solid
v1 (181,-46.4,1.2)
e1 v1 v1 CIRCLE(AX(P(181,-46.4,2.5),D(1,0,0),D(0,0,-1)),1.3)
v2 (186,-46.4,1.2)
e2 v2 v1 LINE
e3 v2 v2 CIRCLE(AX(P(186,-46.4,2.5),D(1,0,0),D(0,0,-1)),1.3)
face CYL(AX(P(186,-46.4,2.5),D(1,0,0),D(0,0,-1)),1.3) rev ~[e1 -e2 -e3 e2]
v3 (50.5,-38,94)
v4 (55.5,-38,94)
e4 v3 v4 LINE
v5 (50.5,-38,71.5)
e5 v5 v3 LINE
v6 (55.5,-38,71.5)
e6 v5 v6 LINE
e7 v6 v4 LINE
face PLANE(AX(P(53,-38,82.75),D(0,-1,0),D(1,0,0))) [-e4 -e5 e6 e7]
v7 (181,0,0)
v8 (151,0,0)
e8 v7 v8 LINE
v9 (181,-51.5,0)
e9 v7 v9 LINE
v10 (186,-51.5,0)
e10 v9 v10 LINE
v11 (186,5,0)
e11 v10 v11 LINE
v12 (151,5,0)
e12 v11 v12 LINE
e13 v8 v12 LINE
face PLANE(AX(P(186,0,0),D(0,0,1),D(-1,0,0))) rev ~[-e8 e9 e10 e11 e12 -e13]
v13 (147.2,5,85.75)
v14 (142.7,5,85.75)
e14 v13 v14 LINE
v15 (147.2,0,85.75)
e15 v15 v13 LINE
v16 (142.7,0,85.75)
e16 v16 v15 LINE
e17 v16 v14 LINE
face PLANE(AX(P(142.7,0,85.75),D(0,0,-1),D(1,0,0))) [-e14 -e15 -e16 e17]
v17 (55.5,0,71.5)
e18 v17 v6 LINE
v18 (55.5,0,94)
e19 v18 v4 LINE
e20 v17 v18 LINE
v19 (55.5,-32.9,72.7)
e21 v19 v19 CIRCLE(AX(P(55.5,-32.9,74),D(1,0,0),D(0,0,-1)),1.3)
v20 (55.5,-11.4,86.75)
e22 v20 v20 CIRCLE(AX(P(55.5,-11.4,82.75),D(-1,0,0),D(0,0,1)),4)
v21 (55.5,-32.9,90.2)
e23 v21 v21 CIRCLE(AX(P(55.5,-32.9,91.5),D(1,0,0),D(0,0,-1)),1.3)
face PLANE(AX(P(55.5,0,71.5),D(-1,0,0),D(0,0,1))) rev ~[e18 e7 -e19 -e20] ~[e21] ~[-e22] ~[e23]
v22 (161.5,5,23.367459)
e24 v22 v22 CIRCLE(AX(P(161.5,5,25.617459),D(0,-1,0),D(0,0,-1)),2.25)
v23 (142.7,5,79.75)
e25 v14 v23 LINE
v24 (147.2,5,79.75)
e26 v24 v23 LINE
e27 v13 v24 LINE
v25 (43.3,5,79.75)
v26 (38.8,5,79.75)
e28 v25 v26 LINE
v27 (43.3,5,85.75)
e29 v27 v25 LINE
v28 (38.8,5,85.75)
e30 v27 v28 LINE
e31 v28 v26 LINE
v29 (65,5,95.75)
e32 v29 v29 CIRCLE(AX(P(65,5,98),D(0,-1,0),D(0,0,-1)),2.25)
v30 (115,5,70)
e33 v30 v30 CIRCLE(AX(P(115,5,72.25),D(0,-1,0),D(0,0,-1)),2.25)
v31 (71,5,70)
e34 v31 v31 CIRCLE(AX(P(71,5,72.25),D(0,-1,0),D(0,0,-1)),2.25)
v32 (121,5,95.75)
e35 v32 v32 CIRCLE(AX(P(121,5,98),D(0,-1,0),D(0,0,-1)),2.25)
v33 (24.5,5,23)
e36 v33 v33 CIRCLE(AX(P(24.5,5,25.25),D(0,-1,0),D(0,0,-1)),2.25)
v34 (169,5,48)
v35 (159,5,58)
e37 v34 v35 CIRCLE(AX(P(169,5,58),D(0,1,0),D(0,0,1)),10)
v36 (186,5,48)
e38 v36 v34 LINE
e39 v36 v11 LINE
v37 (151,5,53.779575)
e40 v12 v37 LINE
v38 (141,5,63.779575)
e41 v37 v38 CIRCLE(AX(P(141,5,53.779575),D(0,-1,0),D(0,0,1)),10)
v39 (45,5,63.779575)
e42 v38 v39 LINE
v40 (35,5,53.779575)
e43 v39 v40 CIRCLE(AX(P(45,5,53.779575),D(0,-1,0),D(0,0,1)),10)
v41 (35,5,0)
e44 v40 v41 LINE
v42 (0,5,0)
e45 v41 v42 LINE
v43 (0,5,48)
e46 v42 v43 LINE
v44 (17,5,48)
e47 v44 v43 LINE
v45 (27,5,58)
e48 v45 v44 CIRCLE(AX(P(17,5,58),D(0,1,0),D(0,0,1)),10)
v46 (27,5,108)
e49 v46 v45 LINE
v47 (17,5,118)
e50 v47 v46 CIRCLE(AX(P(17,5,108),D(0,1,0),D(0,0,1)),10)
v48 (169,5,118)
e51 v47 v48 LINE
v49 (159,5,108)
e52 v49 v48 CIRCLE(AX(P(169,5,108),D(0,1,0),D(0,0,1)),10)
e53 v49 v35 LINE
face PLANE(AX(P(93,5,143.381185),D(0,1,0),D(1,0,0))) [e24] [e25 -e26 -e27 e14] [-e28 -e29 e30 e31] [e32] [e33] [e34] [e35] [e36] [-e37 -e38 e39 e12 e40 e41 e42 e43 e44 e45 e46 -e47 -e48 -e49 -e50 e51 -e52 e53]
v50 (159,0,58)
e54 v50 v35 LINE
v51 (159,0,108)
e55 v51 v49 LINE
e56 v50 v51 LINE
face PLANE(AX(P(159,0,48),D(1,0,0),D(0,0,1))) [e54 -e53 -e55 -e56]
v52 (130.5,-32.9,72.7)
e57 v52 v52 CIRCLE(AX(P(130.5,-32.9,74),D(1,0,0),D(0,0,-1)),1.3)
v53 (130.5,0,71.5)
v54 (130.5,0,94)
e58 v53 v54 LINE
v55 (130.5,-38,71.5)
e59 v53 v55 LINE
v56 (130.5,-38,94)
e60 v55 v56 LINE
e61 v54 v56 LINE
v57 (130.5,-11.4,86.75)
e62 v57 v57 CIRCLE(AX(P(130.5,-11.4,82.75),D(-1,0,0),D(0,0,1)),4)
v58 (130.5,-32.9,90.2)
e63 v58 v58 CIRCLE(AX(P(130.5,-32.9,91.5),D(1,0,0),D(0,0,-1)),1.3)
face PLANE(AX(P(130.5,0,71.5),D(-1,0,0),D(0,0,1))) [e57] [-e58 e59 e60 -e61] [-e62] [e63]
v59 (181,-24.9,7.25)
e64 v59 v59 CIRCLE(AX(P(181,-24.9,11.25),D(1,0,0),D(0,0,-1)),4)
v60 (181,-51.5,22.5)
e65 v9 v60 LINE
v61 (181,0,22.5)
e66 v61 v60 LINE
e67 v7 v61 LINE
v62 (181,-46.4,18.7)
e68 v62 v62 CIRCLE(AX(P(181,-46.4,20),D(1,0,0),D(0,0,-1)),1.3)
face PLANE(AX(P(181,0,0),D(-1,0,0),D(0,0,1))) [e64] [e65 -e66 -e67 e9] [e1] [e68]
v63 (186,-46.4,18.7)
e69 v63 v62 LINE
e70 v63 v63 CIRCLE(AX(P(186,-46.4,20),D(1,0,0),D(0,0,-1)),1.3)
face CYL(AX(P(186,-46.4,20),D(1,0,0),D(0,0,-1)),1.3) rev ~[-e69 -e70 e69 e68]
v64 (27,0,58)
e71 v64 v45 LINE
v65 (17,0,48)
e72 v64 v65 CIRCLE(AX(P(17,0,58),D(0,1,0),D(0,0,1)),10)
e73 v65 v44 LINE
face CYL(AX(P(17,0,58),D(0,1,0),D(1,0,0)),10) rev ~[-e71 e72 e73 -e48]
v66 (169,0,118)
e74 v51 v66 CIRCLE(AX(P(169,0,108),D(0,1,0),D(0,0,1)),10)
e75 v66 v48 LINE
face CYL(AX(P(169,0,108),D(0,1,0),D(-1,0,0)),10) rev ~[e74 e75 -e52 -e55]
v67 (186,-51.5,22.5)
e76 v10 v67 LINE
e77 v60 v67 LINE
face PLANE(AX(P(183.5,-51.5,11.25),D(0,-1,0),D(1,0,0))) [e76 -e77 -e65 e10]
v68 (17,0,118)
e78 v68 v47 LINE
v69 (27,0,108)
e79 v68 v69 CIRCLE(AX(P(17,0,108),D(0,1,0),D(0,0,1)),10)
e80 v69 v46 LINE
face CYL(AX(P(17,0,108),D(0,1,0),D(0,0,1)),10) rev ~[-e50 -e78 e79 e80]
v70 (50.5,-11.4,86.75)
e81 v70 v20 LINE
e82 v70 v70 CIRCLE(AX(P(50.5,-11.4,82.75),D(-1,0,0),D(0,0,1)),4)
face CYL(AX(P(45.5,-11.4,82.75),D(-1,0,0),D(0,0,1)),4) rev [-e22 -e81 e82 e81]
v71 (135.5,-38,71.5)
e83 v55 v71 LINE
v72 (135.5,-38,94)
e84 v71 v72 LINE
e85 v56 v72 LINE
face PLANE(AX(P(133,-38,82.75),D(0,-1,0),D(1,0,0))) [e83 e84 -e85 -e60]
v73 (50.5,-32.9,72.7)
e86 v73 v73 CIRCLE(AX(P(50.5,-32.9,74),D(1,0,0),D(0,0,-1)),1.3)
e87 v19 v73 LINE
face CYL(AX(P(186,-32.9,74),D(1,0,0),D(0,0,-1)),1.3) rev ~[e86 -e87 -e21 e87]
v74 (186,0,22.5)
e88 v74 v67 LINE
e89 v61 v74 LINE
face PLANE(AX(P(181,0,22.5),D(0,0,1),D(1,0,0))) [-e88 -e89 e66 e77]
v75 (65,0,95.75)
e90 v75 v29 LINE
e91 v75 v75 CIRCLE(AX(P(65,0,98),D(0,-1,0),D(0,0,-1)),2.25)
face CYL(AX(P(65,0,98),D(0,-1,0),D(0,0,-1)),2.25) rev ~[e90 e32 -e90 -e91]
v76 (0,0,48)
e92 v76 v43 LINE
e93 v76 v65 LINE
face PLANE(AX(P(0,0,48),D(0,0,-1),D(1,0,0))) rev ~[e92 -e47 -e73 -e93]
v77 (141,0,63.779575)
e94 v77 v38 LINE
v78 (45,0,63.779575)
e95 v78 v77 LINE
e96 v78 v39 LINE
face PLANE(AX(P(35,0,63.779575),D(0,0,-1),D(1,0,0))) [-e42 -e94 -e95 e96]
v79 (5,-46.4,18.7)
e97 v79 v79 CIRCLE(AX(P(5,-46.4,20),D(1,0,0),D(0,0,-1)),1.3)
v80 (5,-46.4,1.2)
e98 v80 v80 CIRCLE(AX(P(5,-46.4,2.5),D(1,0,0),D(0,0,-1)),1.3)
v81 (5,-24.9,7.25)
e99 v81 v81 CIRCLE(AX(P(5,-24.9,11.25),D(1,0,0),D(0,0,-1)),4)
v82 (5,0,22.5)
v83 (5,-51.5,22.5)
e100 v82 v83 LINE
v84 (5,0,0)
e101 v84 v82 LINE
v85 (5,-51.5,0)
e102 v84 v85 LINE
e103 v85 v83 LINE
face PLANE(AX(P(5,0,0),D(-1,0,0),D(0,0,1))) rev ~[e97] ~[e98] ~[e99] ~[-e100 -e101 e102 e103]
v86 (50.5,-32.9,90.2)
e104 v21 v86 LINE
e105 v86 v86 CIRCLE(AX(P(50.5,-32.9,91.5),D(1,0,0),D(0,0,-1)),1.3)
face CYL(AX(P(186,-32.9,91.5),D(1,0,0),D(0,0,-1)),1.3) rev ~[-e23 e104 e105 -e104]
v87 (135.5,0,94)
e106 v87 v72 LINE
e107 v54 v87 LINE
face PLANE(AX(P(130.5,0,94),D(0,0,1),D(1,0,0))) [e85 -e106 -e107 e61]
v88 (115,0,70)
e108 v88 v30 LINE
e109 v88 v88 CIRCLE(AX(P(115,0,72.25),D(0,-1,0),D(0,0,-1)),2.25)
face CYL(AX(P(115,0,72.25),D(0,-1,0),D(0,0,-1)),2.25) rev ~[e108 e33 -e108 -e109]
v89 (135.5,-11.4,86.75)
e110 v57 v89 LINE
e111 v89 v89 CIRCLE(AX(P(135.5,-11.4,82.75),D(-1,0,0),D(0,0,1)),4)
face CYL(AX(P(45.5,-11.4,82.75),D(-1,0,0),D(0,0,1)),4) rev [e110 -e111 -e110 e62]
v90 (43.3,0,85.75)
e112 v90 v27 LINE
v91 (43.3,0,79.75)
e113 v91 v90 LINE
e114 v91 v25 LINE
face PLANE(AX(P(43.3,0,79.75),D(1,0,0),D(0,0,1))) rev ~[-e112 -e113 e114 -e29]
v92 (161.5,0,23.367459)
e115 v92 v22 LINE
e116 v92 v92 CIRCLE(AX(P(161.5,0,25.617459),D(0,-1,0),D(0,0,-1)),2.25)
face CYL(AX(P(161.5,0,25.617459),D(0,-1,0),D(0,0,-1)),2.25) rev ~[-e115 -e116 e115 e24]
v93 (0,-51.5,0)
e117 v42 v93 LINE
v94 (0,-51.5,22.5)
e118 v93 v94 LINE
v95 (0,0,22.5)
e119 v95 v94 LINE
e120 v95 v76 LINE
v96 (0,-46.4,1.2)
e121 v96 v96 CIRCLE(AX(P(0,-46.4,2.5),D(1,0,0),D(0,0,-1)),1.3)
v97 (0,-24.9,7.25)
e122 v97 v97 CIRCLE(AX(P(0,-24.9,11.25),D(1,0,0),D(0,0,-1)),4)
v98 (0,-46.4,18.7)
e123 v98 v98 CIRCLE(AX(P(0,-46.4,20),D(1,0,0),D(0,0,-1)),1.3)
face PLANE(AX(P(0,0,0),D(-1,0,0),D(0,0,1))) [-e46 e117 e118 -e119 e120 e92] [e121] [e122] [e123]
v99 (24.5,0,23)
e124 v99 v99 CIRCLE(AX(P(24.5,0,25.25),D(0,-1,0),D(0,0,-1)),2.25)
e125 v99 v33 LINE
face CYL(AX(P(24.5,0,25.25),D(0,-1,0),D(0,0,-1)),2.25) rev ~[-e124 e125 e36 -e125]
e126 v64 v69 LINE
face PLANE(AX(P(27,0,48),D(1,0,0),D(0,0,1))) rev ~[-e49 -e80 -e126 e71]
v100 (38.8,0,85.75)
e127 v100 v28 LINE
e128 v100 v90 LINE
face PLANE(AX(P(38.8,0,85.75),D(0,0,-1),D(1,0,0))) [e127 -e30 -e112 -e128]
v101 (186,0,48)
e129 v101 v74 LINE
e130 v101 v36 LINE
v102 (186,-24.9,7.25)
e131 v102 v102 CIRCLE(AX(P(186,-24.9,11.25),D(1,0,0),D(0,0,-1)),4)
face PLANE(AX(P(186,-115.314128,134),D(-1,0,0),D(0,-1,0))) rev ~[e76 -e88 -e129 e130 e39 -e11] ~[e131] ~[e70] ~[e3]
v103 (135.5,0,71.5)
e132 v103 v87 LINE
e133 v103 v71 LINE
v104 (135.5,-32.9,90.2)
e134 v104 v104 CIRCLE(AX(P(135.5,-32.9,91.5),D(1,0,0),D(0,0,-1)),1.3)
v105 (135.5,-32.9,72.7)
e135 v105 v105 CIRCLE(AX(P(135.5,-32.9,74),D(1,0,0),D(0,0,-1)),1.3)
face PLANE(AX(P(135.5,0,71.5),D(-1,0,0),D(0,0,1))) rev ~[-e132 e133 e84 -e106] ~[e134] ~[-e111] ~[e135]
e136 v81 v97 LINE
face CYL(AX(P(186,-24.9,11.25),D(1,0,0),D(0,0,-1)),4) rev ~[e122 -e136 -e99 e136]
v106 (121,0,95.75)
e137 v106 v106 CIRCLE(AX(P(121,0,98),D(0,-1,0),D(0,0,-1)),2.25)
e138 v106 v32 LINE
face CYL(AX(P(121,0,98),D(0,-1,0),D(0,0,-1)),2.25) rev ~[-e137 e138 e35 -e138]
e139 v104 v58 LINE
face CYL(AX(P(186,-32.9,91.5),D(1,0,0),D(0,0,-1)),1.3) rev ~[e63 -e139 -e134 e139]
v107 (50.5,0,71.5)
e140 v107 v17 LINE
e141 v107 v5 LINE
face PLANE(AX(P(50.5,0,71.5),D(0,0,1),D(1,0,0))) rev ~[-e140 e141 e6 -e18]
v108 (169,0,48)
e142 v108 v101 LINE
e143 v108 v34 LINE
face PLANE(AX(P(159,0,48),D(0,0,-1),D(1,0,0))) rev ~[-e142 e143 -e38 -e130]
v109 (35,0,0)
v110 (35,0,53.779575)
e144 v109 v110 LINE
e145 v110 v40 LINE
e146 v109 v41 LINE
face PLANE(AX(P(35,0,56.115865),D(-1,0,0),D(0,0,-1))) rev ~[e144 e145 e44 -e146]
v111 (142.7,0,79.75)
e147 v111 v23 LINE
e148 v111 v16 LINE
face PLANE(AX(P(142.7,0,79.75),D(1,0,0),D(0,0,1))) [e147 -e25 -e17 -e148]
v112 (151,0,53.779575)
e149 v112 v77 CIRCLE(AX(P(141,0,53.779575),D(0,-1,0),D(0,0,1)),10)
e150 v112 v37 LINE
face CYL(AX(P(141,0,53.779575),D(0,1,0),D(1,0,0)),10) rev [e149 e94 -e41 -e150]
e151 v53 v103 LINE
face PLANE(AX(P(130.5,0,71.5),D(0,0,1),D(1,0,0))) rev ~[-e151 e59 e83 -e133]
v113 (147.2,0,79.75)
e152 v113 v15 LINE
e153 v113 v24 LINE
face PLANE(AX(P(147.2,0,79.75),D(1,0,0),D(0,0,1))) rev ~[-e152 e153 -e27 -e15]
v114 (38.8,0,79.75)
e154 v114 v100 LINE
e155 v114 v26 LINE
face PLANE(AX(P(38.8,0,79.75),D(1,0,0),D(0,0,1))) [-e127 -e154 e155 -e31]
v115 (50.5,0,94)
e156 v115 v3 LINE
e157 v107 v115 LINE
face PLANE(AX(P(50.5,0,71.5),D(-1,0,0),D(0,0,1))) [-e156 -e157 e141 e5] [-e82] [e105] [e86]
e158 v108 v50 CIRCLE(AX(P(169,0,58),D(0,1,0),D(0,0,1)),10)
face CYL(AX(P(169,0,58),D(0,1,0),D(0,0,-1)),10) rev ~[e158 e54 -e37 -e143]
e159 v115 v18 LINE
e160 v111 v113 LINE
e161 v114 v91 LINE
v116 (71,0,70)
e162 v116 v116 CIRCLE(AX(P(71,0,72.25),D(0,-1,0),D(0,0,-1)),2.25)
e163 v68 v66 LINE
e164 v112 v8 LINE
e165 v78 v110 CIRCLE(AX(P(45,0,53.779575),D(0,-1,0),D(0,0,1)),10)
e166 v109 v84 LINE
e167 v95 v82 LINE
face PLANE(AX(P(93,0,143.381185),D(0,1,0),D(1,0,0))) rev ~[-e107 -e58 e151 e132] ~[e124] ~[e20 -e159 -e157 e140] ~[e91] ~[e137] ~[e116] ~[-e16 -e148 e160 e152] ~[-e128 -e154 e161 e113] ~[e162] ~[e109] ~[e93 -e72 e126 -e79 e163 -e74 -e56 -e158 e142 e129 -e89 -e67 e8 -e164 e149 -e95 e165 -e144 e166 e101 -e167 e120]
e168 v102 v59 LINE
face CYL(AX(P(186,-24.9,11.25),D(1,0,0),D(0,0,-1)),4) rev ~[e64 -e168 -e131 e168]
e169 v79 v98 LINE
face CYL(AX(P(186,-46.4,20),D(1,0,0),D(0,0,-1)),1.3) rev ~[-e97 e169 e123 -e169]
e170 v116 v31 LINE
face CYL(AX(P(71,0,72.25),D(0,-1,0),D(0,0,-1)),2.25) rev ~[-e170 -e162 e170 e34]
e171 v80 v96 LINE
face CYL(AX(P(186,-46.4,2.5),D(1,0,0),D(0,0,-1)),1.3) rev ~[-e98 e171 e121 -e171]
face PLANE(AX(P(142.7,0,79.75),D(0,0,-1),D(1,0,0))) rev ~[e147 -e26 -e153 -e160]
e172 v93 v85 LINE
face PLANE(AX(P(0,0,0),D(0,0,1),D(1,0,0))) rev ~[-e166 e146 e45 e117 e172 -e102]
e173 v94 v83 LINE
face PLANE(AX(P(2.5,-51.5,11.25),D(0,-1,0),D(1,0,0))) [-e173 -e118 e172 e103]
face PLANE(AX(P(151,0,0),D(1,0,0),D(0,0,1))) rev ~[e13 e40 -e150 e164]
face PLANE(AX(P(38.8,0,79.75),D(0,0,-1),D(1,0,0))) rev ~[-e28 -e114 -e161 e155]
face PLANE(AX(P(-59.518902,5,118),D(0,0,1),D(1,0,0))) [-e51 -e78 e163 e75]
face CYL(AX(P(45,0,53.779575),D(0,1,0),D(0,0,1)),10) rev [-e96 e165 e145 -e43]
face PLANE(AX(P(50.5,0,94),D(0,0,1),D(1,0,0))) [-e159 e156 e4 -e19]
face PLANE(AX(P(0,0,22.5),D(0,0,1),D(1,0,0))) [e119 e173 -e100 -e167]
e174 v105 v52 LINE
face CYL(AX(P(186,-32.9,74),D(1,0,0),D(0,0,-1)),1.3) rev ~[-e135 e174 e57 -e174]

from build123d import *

# Parameters (mm, degrees)
BOSS_EXTRUDE1_DEPTH      = 5
SKETCH2_W                = 5
SKETCH2_H                = 22.5
BOSS_EXTRUDE2_DEPTH      = 38
SKETCH5_W                = 25
SKETCH5_H                = 5
BOSS_EXTRUDE3_DEPTH      = 30
FILLET3_R                = 5
SKETCH6_R                = 3
CUT_EXTRUDE4_DEPTH       = 172
SKETCH7_W                = 5
SKETCH7_H                = 22.5
BOSS_EXTRUDE4_DEPTH      = 51.5
SKETCH3_R                = 1.3
CUT_EXTRUDE2_DEPTH       = 357.71872673
SKETCH9_W                = 116
SKETCH9_H                = 63.779574991
CUT_EXTRUDE6_DEPTH       = 10
SKETCH10_W               = 25
SKETCH10_H               = 5
BOSS_EXTRUDE5_DEPTH      = 70
BOSS_EXTRUDE6_DEPTH      = 25
SKETCH12_W               = 25
SKETCH12_H               = 5
BOSS_EXTRUDE7_DEPTH      = 19.72
BOSS_EXTRUDE8_DEPTH      = 15
BOSS_EXTRUDE8_DEPTH_BACK = 4
CUT_EXTRUDE7_DEPTH       = 15
SKETCH15_R               = 2.25
CUT_EXTRUDE8_DEPTH       = 20
SKETCH16_W               = 6
SKETCH16_H               = 3
BOSS_EXTRUDE9_DEPTH      = 12.4
SKETCH17_R               = 1
CUT_EXTRUDE9_DEPTH       = 282.347152812
SKETCH27_W               = 25.232191294
SKETCH27_H               = 19
BOSS_EXTRUDE11_DEPTH     = 3
FILLET4_R                = 5
SKETCH18_R               = 2.25
CUT_EXTRUDE10_DEPTH      = 378.078044336
SKETCH19_W               = 4.5
SKETCH19_H               = 6
CUT_EXTRUDE12_DEPTH      = 383.13686347
FILLET6_R                = 10
SKETCH21_W               = 27
SKETCH21_H               = 70
CUT_EXTRUDE14_DEPTH      = 383.13686347
FILLET7_R                = 10
SKETCH22_R               = 2.25
CUT_EXTRUDE16_DEPTH      = 10
SKETCH23_W               = 17.043474802
SKETCH23_H               = 5.138762975
BOSS_EXTRUDE10_DEPTH     = 7
CUT_EXTRUDE17_REACH      = 372.436
CUT_EXTRUDE18_REACH      = 380.086
SKETCH25_R               = 2.25
SKETCH28_R               = 2.25
CUT_EXTRUDE19_DEPTH      = 384.936136276
SKETCH30_W               = 438.94108036
SKETCH30_H               = 213.926961157
CUT_EXTRUDE22_DEPTH      = 384.936136276
SKETCH31_W               = 83.134099451
SKETCH31_H               = 28.659633058
CUT_EXTRUDE23_DEPTH      = 253.735705209
SKETCH32_R               = 2.25
CUT_EXTRUDE24_DEPTH      = 227.212842253
CUT_EXTRUDE26_DEPTH      = 110
CUT_EXTRUDE26_DEPTH_BACK = 10
SKETCH33_R               = 4
SKETCH34_R               = 4
CUT_EXTRUDE27_DEPTH      = 227.212842253


with BuildPart() as part:
    # Sketch1 → Boss-Extrude1 (new body)
    with BuildSketch(Plane(origin=(0, 0, 0), x_dir=(1, 0, 0), z_dir=(0, 1, 0))):
        Polygon((0, 0), (0, -300), (186, -300), (186, 0), (176, 0), (151, 0), (151, -56.115865257), (35, -56.115865257), (35, 0), (10, 0), align=None)
    extrude(amount=BOSS_EXTRUDE1_DEPTH)

    # Sketch2 → Boss-Extrude2 (add)
    with BuildSketch(Plane.XZ):
        with Locations((53, 82.75)):
            Rectangle(SKETCH2_W, SKETCH2_H)
        with Locations((133, 82.75)):
            Rectangle(SKETCH2_W, SKETCH2_H)
    extrude(amount=BOSS_EXTRUDE2_DEPTH)

    # Sketch5 → Boss-Extrude3 (add)
    with BuildSketch(Plane.XZ):
        with Locations((173.5, 297.5)):
            Rectangle(SKETCH5_W, SKETCH5_H)
        with Locations((173.5, 242.5)):
            Rectangle(SKETCH5_W, SKETCH5_H)
        with Locations((173.5, 187.5)):
            Rectangle(SKETCH5_W, SKETCH5_H)
        with Locations((173.5, 132.5)):
            Rectangle(SKETCH5_W, SKETCH5_H)
    extrude(amount=BOSS_EXTRUDE3_DEPTH)

    # Fillet3
    fillet3_edges = [part.edges().sort_by_distance(p)[0] for p in [
        (173.5, 0, 295),
        (173.5, 0, 240),
        (173.5, 0, 185),
        (173.5, 0, 130),
    ]]
    fillet(fillet3_edges, radius=FILLET3_R)

    # Sketch6 → Cut-Extrude4 (cut)
    with BuildSketch(Plane.XY.offset(300)):
        with Locations((178, -24)):
            Circle(SKETCH6_R)
    extrude(amount=-CUT_EXTRUDE4_DEPTH, mode=Mode.SUBTRACT)

    # Sketch7 → Boss-Extrude4 (add)
    with BuildSketch(Plane.XZ):
        with Locations((2.5, 11.25)):
            Rectangle(SKETCH7_W, SKETCH7_H)
        with Locations((183.5, 11.25)):
            Rectangle(SKETCH7_W, SKETCH7_H)
    extrude(amount=BOSS_EXTRUDE4_DEPTH)

    # Sketch3 → Cut-Extrude2 (cut, through all)
    with BuildSketch(Plane(origin=(186, 0, 0), x_dir=(0, 0, -1), z_dir=(1, 0, 0))):
        with Locations((-74, -32.9)):
            Circle(SKETCH3_R)
        with Locations((-91.5, -32.9)):
            Circle(SKETCH3_R)
        with Locations((-20, -46.4)):
            Circle(SKETCH3_R)
        with Locations((-2.5, -46.4)):
            Circle(SKETCH3_R)
    extrude(amount=-CUT_EXTRUDE2_DEPTH, mode=Mode.SUBTRACT)

    # Sketch9 → Cut-Extrude6 (cut)
    with BuildSketch(Plane.XZ):
        with Locations((93, 31.889787496)):
            Rectangle(SKETCH9_W, SKETCH9_H)
    extrude(amount=-CUT_EXTRUDE6_DEPTH, mode=Mode.SUBTRACT)

    # Sketch10 → Boss-Extrude5 (add)
    with BuildSketch(Plane.XZ.offset(30)):
        with Locations((173.5, 297.5)):
            Rectangle(SKETCH10_W, SKETCH10_H)
        with Locations((173.5, 132.5)):
            Rectangle(SKETCH10_W, SKETCH10_H)
    extrude(amount=BOSS_EXTRUDE5_DEPTH)

    # Sketch11 → Boss-Extrude6 (add)
    with BuildSketch(Plane(origin=(186, 0, 0), x_dir=(0, 0, -1), z_dir=(1, 0, 0))):
        Polygon((-300, -100), (-304.901863346, -134.643852153), (-300, -135.337431613), (-295, -100), align=None)
    extrude(amount=-BOSS_EXTRUDE6_DEPTH)

    # Sketch12 → Boss-Extrude7 (add)
    with BuildSketch(Plane.XZ.offset(100)):
        with Locations((173.5, 132.5)):
            Rectangle(SKETCH12_W, SKETCH12_H)
    extrude(amount=BOSS_EXTRUDE7_DEPTH)

    # Sketch13 → Boss-Extrude8 (add, two sides: drawn at the far end of the back side and taken through both)
    with BuildSketch(Plane(origin=(0, 0, 130), x_dir=(-1, 0, 0), z_dir=(0, 0, -1)).offset(-BOSS_EXTRUDE8_DEPTH_BACK)):
        Polygon((-186, -115.314128401), (-186, -119.72), (-161, -123.135183378), (-161, -115.314128401), align=None)
    extrude(amount=BOSS_EXTRUDE8_DEPTH + BOSS_EXTRUDE8_DEPTH_BACK)

    # Sketch14 → Cut-Extrude7 (cut)
    with BuildSketch(Plane(origin=(19.462480736, -142.470246704, 0), x_dir=(0.9907978149243062, 0.13535024913615948, 0), z_dir=(0.13535024913615948, -0.9907978149243062, 0))):
        Polygon((186.357631366, 115), (168.084261749, 132.037436989), (198.015187573, 130.430954629), (197.515117956, 111.366582762), (186.357631366, 109.607523038), align=None)
    extrude(amount=-CUT_EXTRUDE7_DEPTH, mode=Mode.SUBTRACT)

    # Sketch15 → Cut-Extrude8 (cut)
    with BuildSketch(Plane(origin=(0, 39.65203451, 280.240211564), x_dir=(1, 0, 0), z_dir=(0, 0.14009757598944012, 0.9901377021414158))):
        with Locations(Location((178, -168.031966348, 0), (0, 0, 270))):
            Circle(SKETCH15_R)
        with Locations(Location((169, -149.043043011, 0), (0, 0, 270))):
            Circle(SKETCH15_R)
    extrude(amount=-CUT_EXTRUDE8_DEPTH, mode=Mode.SUBTRACT)

    # Sketch16 → Boss-Extrude9 (add)
    with BuildSketch(Plane.XZ):
        with Locations((169, 273.5)):
            Rectangle(SKETCH16_W, SKETCH16_H)
        with Locations((140.4, 273.5)):
            Rectangle(SKETCH16_W, SKETCH16_H)
        with Locations((169, 218.5)):
            Rectangle(SKETCH16_W, SKETCH16_H)
        with Locations((169, 163.5)):
            Rectangle(SKETCH16_W, SKETCH16_H)
        with Locations((140.4, 218.5)):
            Rectangle(SKETCH16_W, SKETCH16_H)
        with Locations((140.4, 163.5)):
            Rectangle(SKETCH16_W, SKETCH16_H)
    extrude(amount=BOSS_EXTRUDE9_DEPTH)

    # Sketch17 → Cut-Extrude9 (cut, through all)
    with BuildSketch(Plane(origin=(0, 0, 162), x_dir=(-1, 0, 0), z_dir=(0, 0, -1))):
        with BuildLine():
            ThreePointArc((-169.75, -5.6), (-169.95, -6.2), (-169.75, -6.8))
            ThreePointArc((-169.75, -6.8), (-168.633772234, -7.148683298), (-167.95, -6.2))
            ThreePointArc((-167.95, -6.2), (-168.633772234, -5.251316702), (-169.75, -5.6))
        make_face()
        with Locations((-140.45, -6.2)):
            Circle(SKETCH17_R)
    extrude(amount=-CUT_EXTRUDE9_DEPTH, mode=Mode.SUBTRACT)

    # Sketch27 → Boss-Extrude11 (add)
    with BuildSketch(Plane(origin=(19.462480736, -142.470246704, 0), x_dir=(0.9907978149243062, 0.13535024913615953, 0), z_dir=(0.13535024913615953, -0.9907978149243062, 0))):
        with Locations((155.468166102, 124.5)):
            Rectangle(SKETCH27_W, SKETCH27_H)
    extrude(amount=BOSS_EXTRUDE11_DEPTH)

    # Fillet4
    fillet4_edges = [part.edges().sort_by_distance(p)[0] for p in [
        (140.4, 0, 220),
        (169, 0, 165),
        (169, 0, 220),
        (140.4, 0, 275),
        (140.4, 0, 165),
        (169, 0, 275),
    ]]
    fillet(fillet4_edges, radius=FILLET4_R)

    # Sketch18 → Cut-Extrude10 (cut, through all)
    with BuildSketch(Plane(origin=(0, -115.314128401, 0), x_dir=(1, 0, 0), z_dir=(0, 1, 0))):
        with Locations(Location((174.885718372, -120.99470656, 0), (0, 0, 180))):
            Circle(SKETCH18_R)
    extrude(amount=-CUT_EXTRUDE10_DEPTH, mode=Mode.SUBTRACT)

    # Sketch19 → Cut-Extrude12 (cut, through all)
    with BuildSketch(Plane.XZ):
        with Locations((144.95, 82.75)):
            Rectangle(SKETCH19_W, SKETCH19_H)
        with Locations((41.05, 82.75)):
            Rectangle(SKETCH19_W, SKETCH19_H)
    extrude(amount=-CUT_EXTRUDE12_DEPTH, mode=Mode.SUBTRACT)

    # Fillet6
    fillet6_edges = [part.edges().sort_by_distance(p)[0] for p in [
        (35, 2.5, 63.779574991),
        (151, 2.5, 63.779574991),
    ]]
    fillet(fillet6_edges, radius=FILLET6_R)

    # Sketch21 → Cut-Extrude14 (cut, through all)
    with BuildSketch(Plane.XZ):
        with Locations((13.5, 83)):
            Rectangle(SKETCH21_W, SKETCH21_H)
        with Locations((172.5, 83)):
            Rectangle(SKETCH21_W, SKETCH21_H)
    extrude(amount=-CUT_EXTRUDE14_DEPTH, mode=Mode.SUBTRACT)

    # Fillet7
    fillet7_edges = [part.edges().sort_by_distance(p)[0] for p in [
        (27, 2.5, 118),
        (27, 2.5, 48),
        (159, 2.5, 48),
        (159, 2.5, 118),
    ]]
    fillet(fillet7_edges, radius=FILLET7_R)

    # Sketch22 → Cut-Extrude16 (cut)
    with BuildSketch(Plane.XZ):
        with Locations(Location((24.5, 25.25, 0), (0, 0, 270))):
            Circle(SKETCH22_R)
        with Locations(Location((161.5, 25.617459027, 0), (0, 0, 270))):
            Circle(SKETCH22_R)
        with Locations(Location((115, 72.25, 0), (0, 0, 270))):
            Circle(SKETCH22_R)
        with Locations(Location((71, 72.25, 0), (0, 0, 270))):
            Circle(SKETCH22_R)
    extrude(amount=-CUT_EXTRUDE16_DEPTH, mode=Mode.SUBTRACT)

    # Sketch23 → Boss-Extrude10 (add)
    with BuildSketch(Plane.XY.offset(135)):
        with Locations((169.584553608, -121.006176699)):
            Rectangle(SKETCH23_W, SKETCH23_H)
    extrude(amount=BOSS_EXTRUDE10_DEPTH)

    # Sketch24 → Cut-Extrude17 (cut, up to next)
    with BuildSketch(Plane.ZY.offset(-161.062816207), mode=Mode.PRIVATE) as cut_extrude17_sk1:
        Polygon((142, -121.648432415), (135, -122.638883571), (134.714975443, -124.33810847), (142, -124.33810847), align=None)
    cut_extrude17_tool1 = extrude(cut_extrude17_sk1.sketch, amount=-CUT_EXTRUDE17_REACH, mode=Mode.PRIVATE) & part.part
    add(cut_extrude17_tool1.solids().sort_by_distance((161.062816, -123.230784, 138.703404))[0], mode=Mode.SUBTRACT)

    # Cut-Extrude18: up to this plane
    cut_extrude18_end = Plane(origin=(186.407050747, -121.648432415, 142), z_dir=(0, 0.9901377021414159, -0.14009757598943937))
    # Sketch25 → Cut-Extrude18 (cut, up to the surface)
    with BuildSketch(Plane(origin=(0, -118.436795211, 0), x_dir=(1, 0, 0), z_dir=(0, 1, 0)), mode=Mode.PRIVATE) as cut_extrude18_sk1:
        with Locations(Location((174.719138996, -138.089405518, 0), (0, 0, 270))):
            Circle(SKETCH25_R)
    cut_extrude18_tool1 = split(extrude(cut_extrude18_sk1.sketch, amount=-CUT_EXTRUDE18_REACH, mode=Mode.PRIVATE), bisect_by=cut_extrude18_end, keep=Keep.BOTH, mode=Mode.PRIVATE)
    add(cut_extrude18_tool1.solids().sort_by_distance((174.719139, -118.436795, 138.089406))[0], mode=Mode.SUBTRACT)

    # Sketch28 → Cut-Extrude19 (cut, through all)
    with BuildSketch(Plane(origin=(0, 5, 0), x_dir=(1, 0, 0), z_dir=(0, 1, 0))):
        with Locations(Location((93, -260, 0), (0, 0, 270))):
            Circle(SKETCH28_R)
    extrude(amount=-CUT_EXTRUDE19_DEPTH, mode=Mode.SUBTRACT)

    # Sketch30 → Cut-Extrude22 (cut, through all)
    with BuildSketch(Plane(origin=(0, 5, 0), x_dir=(1, 0, 0), z_dir=(0, 1, 0))):
        with Locations((159.951638518, -224.963480578)):
            Rectangle(SKETCH30_W, SKETCH30_H)
    extrude(amount=-CUT_EXTRUDE22_DEPTH, mode=Mode.SUBTRACT)


with BuildPart() as cut_extrude22_piece_1:
    # of the separate pieces the step leaves, piece 1, a body of its own (cut_extrude22_pieces)
    add(part.part.solids().sort_by_distance((169, 0, 48))[0])

    # Sketch32 → Cut-Extrude24 (cut, through all)
    with BuildSketch(Plane.XZ):
        with Locations(Location((121, 98, 0), (0, 0, 270))):
            Circle(SKETCH32_R)
        with Locations(Location((65, 98, 0), (0, 0, 270))):
            Circle(SKETCH32_R)
    extrude(amount=-CUT_EXTRUDE24_DEPTH, mode=Mode.SUBTRACT)

    # Sketch33 → Cut-Extrude26 (cut, two sides: drawn at the far end of the back side and taken through both)
    with BuildSketch(Plane(origin=(55.5, 0, 0), x_dir=(0, 0, -1), z_dir=(1, 0, 0)).offset(-CUT_EXTRUDE26_DEPTH_BACK)):
        with Locations(Location((-82.75, -11.4, 0), (0, 0, 180))):
            Circle(SKETCH33_R)
    extrude(amount=CUT_EXTRUDE26_DEPTH + CUT_EXTRUDE26_DEPTH_BACK, mode=Mode.SUBTRACT)

    # Sketch34 → Cut-Extrude27 (cut, through all)
    with BuildSketch(Plane(origin=(186, 0, 0), x_dir=(0, 0, -1), z_dir=(1, 0, 0))):
        with Locations((-11.25, -24.9)):
            Circle(SKETCH34_R)
    extrude(amount=-CUT_EXTRUDE27_DEPTH, mode=Mode.SUBTRACT)


with BuildPart() as cut_extrude22_piece_2:
    # of the separate pieces the step leaves, piece 2, a body of its own (cut_extrude22_pieces)
    add(part.part.solids().sort_by_distance((186, -115.314128401, 118))[0])

    # Sketch31 → Cut-Extrude23 (cut, through all)
    with BuildSketch(Plane(origin=(0, 0, 115), x_dir=(-1, 0, 0), z_dir=(0, 0, -1))):
        with Locations((-171.317335901, -127.032941637)):
            Rectangle(SKETCH31_W, SKETCH31_H)
    extrude(amount=-CUT_EXTRUDE23_DEPTH, mode=Mode.SUBTRACT)


solid = cut_extrude22_piece_1.part
